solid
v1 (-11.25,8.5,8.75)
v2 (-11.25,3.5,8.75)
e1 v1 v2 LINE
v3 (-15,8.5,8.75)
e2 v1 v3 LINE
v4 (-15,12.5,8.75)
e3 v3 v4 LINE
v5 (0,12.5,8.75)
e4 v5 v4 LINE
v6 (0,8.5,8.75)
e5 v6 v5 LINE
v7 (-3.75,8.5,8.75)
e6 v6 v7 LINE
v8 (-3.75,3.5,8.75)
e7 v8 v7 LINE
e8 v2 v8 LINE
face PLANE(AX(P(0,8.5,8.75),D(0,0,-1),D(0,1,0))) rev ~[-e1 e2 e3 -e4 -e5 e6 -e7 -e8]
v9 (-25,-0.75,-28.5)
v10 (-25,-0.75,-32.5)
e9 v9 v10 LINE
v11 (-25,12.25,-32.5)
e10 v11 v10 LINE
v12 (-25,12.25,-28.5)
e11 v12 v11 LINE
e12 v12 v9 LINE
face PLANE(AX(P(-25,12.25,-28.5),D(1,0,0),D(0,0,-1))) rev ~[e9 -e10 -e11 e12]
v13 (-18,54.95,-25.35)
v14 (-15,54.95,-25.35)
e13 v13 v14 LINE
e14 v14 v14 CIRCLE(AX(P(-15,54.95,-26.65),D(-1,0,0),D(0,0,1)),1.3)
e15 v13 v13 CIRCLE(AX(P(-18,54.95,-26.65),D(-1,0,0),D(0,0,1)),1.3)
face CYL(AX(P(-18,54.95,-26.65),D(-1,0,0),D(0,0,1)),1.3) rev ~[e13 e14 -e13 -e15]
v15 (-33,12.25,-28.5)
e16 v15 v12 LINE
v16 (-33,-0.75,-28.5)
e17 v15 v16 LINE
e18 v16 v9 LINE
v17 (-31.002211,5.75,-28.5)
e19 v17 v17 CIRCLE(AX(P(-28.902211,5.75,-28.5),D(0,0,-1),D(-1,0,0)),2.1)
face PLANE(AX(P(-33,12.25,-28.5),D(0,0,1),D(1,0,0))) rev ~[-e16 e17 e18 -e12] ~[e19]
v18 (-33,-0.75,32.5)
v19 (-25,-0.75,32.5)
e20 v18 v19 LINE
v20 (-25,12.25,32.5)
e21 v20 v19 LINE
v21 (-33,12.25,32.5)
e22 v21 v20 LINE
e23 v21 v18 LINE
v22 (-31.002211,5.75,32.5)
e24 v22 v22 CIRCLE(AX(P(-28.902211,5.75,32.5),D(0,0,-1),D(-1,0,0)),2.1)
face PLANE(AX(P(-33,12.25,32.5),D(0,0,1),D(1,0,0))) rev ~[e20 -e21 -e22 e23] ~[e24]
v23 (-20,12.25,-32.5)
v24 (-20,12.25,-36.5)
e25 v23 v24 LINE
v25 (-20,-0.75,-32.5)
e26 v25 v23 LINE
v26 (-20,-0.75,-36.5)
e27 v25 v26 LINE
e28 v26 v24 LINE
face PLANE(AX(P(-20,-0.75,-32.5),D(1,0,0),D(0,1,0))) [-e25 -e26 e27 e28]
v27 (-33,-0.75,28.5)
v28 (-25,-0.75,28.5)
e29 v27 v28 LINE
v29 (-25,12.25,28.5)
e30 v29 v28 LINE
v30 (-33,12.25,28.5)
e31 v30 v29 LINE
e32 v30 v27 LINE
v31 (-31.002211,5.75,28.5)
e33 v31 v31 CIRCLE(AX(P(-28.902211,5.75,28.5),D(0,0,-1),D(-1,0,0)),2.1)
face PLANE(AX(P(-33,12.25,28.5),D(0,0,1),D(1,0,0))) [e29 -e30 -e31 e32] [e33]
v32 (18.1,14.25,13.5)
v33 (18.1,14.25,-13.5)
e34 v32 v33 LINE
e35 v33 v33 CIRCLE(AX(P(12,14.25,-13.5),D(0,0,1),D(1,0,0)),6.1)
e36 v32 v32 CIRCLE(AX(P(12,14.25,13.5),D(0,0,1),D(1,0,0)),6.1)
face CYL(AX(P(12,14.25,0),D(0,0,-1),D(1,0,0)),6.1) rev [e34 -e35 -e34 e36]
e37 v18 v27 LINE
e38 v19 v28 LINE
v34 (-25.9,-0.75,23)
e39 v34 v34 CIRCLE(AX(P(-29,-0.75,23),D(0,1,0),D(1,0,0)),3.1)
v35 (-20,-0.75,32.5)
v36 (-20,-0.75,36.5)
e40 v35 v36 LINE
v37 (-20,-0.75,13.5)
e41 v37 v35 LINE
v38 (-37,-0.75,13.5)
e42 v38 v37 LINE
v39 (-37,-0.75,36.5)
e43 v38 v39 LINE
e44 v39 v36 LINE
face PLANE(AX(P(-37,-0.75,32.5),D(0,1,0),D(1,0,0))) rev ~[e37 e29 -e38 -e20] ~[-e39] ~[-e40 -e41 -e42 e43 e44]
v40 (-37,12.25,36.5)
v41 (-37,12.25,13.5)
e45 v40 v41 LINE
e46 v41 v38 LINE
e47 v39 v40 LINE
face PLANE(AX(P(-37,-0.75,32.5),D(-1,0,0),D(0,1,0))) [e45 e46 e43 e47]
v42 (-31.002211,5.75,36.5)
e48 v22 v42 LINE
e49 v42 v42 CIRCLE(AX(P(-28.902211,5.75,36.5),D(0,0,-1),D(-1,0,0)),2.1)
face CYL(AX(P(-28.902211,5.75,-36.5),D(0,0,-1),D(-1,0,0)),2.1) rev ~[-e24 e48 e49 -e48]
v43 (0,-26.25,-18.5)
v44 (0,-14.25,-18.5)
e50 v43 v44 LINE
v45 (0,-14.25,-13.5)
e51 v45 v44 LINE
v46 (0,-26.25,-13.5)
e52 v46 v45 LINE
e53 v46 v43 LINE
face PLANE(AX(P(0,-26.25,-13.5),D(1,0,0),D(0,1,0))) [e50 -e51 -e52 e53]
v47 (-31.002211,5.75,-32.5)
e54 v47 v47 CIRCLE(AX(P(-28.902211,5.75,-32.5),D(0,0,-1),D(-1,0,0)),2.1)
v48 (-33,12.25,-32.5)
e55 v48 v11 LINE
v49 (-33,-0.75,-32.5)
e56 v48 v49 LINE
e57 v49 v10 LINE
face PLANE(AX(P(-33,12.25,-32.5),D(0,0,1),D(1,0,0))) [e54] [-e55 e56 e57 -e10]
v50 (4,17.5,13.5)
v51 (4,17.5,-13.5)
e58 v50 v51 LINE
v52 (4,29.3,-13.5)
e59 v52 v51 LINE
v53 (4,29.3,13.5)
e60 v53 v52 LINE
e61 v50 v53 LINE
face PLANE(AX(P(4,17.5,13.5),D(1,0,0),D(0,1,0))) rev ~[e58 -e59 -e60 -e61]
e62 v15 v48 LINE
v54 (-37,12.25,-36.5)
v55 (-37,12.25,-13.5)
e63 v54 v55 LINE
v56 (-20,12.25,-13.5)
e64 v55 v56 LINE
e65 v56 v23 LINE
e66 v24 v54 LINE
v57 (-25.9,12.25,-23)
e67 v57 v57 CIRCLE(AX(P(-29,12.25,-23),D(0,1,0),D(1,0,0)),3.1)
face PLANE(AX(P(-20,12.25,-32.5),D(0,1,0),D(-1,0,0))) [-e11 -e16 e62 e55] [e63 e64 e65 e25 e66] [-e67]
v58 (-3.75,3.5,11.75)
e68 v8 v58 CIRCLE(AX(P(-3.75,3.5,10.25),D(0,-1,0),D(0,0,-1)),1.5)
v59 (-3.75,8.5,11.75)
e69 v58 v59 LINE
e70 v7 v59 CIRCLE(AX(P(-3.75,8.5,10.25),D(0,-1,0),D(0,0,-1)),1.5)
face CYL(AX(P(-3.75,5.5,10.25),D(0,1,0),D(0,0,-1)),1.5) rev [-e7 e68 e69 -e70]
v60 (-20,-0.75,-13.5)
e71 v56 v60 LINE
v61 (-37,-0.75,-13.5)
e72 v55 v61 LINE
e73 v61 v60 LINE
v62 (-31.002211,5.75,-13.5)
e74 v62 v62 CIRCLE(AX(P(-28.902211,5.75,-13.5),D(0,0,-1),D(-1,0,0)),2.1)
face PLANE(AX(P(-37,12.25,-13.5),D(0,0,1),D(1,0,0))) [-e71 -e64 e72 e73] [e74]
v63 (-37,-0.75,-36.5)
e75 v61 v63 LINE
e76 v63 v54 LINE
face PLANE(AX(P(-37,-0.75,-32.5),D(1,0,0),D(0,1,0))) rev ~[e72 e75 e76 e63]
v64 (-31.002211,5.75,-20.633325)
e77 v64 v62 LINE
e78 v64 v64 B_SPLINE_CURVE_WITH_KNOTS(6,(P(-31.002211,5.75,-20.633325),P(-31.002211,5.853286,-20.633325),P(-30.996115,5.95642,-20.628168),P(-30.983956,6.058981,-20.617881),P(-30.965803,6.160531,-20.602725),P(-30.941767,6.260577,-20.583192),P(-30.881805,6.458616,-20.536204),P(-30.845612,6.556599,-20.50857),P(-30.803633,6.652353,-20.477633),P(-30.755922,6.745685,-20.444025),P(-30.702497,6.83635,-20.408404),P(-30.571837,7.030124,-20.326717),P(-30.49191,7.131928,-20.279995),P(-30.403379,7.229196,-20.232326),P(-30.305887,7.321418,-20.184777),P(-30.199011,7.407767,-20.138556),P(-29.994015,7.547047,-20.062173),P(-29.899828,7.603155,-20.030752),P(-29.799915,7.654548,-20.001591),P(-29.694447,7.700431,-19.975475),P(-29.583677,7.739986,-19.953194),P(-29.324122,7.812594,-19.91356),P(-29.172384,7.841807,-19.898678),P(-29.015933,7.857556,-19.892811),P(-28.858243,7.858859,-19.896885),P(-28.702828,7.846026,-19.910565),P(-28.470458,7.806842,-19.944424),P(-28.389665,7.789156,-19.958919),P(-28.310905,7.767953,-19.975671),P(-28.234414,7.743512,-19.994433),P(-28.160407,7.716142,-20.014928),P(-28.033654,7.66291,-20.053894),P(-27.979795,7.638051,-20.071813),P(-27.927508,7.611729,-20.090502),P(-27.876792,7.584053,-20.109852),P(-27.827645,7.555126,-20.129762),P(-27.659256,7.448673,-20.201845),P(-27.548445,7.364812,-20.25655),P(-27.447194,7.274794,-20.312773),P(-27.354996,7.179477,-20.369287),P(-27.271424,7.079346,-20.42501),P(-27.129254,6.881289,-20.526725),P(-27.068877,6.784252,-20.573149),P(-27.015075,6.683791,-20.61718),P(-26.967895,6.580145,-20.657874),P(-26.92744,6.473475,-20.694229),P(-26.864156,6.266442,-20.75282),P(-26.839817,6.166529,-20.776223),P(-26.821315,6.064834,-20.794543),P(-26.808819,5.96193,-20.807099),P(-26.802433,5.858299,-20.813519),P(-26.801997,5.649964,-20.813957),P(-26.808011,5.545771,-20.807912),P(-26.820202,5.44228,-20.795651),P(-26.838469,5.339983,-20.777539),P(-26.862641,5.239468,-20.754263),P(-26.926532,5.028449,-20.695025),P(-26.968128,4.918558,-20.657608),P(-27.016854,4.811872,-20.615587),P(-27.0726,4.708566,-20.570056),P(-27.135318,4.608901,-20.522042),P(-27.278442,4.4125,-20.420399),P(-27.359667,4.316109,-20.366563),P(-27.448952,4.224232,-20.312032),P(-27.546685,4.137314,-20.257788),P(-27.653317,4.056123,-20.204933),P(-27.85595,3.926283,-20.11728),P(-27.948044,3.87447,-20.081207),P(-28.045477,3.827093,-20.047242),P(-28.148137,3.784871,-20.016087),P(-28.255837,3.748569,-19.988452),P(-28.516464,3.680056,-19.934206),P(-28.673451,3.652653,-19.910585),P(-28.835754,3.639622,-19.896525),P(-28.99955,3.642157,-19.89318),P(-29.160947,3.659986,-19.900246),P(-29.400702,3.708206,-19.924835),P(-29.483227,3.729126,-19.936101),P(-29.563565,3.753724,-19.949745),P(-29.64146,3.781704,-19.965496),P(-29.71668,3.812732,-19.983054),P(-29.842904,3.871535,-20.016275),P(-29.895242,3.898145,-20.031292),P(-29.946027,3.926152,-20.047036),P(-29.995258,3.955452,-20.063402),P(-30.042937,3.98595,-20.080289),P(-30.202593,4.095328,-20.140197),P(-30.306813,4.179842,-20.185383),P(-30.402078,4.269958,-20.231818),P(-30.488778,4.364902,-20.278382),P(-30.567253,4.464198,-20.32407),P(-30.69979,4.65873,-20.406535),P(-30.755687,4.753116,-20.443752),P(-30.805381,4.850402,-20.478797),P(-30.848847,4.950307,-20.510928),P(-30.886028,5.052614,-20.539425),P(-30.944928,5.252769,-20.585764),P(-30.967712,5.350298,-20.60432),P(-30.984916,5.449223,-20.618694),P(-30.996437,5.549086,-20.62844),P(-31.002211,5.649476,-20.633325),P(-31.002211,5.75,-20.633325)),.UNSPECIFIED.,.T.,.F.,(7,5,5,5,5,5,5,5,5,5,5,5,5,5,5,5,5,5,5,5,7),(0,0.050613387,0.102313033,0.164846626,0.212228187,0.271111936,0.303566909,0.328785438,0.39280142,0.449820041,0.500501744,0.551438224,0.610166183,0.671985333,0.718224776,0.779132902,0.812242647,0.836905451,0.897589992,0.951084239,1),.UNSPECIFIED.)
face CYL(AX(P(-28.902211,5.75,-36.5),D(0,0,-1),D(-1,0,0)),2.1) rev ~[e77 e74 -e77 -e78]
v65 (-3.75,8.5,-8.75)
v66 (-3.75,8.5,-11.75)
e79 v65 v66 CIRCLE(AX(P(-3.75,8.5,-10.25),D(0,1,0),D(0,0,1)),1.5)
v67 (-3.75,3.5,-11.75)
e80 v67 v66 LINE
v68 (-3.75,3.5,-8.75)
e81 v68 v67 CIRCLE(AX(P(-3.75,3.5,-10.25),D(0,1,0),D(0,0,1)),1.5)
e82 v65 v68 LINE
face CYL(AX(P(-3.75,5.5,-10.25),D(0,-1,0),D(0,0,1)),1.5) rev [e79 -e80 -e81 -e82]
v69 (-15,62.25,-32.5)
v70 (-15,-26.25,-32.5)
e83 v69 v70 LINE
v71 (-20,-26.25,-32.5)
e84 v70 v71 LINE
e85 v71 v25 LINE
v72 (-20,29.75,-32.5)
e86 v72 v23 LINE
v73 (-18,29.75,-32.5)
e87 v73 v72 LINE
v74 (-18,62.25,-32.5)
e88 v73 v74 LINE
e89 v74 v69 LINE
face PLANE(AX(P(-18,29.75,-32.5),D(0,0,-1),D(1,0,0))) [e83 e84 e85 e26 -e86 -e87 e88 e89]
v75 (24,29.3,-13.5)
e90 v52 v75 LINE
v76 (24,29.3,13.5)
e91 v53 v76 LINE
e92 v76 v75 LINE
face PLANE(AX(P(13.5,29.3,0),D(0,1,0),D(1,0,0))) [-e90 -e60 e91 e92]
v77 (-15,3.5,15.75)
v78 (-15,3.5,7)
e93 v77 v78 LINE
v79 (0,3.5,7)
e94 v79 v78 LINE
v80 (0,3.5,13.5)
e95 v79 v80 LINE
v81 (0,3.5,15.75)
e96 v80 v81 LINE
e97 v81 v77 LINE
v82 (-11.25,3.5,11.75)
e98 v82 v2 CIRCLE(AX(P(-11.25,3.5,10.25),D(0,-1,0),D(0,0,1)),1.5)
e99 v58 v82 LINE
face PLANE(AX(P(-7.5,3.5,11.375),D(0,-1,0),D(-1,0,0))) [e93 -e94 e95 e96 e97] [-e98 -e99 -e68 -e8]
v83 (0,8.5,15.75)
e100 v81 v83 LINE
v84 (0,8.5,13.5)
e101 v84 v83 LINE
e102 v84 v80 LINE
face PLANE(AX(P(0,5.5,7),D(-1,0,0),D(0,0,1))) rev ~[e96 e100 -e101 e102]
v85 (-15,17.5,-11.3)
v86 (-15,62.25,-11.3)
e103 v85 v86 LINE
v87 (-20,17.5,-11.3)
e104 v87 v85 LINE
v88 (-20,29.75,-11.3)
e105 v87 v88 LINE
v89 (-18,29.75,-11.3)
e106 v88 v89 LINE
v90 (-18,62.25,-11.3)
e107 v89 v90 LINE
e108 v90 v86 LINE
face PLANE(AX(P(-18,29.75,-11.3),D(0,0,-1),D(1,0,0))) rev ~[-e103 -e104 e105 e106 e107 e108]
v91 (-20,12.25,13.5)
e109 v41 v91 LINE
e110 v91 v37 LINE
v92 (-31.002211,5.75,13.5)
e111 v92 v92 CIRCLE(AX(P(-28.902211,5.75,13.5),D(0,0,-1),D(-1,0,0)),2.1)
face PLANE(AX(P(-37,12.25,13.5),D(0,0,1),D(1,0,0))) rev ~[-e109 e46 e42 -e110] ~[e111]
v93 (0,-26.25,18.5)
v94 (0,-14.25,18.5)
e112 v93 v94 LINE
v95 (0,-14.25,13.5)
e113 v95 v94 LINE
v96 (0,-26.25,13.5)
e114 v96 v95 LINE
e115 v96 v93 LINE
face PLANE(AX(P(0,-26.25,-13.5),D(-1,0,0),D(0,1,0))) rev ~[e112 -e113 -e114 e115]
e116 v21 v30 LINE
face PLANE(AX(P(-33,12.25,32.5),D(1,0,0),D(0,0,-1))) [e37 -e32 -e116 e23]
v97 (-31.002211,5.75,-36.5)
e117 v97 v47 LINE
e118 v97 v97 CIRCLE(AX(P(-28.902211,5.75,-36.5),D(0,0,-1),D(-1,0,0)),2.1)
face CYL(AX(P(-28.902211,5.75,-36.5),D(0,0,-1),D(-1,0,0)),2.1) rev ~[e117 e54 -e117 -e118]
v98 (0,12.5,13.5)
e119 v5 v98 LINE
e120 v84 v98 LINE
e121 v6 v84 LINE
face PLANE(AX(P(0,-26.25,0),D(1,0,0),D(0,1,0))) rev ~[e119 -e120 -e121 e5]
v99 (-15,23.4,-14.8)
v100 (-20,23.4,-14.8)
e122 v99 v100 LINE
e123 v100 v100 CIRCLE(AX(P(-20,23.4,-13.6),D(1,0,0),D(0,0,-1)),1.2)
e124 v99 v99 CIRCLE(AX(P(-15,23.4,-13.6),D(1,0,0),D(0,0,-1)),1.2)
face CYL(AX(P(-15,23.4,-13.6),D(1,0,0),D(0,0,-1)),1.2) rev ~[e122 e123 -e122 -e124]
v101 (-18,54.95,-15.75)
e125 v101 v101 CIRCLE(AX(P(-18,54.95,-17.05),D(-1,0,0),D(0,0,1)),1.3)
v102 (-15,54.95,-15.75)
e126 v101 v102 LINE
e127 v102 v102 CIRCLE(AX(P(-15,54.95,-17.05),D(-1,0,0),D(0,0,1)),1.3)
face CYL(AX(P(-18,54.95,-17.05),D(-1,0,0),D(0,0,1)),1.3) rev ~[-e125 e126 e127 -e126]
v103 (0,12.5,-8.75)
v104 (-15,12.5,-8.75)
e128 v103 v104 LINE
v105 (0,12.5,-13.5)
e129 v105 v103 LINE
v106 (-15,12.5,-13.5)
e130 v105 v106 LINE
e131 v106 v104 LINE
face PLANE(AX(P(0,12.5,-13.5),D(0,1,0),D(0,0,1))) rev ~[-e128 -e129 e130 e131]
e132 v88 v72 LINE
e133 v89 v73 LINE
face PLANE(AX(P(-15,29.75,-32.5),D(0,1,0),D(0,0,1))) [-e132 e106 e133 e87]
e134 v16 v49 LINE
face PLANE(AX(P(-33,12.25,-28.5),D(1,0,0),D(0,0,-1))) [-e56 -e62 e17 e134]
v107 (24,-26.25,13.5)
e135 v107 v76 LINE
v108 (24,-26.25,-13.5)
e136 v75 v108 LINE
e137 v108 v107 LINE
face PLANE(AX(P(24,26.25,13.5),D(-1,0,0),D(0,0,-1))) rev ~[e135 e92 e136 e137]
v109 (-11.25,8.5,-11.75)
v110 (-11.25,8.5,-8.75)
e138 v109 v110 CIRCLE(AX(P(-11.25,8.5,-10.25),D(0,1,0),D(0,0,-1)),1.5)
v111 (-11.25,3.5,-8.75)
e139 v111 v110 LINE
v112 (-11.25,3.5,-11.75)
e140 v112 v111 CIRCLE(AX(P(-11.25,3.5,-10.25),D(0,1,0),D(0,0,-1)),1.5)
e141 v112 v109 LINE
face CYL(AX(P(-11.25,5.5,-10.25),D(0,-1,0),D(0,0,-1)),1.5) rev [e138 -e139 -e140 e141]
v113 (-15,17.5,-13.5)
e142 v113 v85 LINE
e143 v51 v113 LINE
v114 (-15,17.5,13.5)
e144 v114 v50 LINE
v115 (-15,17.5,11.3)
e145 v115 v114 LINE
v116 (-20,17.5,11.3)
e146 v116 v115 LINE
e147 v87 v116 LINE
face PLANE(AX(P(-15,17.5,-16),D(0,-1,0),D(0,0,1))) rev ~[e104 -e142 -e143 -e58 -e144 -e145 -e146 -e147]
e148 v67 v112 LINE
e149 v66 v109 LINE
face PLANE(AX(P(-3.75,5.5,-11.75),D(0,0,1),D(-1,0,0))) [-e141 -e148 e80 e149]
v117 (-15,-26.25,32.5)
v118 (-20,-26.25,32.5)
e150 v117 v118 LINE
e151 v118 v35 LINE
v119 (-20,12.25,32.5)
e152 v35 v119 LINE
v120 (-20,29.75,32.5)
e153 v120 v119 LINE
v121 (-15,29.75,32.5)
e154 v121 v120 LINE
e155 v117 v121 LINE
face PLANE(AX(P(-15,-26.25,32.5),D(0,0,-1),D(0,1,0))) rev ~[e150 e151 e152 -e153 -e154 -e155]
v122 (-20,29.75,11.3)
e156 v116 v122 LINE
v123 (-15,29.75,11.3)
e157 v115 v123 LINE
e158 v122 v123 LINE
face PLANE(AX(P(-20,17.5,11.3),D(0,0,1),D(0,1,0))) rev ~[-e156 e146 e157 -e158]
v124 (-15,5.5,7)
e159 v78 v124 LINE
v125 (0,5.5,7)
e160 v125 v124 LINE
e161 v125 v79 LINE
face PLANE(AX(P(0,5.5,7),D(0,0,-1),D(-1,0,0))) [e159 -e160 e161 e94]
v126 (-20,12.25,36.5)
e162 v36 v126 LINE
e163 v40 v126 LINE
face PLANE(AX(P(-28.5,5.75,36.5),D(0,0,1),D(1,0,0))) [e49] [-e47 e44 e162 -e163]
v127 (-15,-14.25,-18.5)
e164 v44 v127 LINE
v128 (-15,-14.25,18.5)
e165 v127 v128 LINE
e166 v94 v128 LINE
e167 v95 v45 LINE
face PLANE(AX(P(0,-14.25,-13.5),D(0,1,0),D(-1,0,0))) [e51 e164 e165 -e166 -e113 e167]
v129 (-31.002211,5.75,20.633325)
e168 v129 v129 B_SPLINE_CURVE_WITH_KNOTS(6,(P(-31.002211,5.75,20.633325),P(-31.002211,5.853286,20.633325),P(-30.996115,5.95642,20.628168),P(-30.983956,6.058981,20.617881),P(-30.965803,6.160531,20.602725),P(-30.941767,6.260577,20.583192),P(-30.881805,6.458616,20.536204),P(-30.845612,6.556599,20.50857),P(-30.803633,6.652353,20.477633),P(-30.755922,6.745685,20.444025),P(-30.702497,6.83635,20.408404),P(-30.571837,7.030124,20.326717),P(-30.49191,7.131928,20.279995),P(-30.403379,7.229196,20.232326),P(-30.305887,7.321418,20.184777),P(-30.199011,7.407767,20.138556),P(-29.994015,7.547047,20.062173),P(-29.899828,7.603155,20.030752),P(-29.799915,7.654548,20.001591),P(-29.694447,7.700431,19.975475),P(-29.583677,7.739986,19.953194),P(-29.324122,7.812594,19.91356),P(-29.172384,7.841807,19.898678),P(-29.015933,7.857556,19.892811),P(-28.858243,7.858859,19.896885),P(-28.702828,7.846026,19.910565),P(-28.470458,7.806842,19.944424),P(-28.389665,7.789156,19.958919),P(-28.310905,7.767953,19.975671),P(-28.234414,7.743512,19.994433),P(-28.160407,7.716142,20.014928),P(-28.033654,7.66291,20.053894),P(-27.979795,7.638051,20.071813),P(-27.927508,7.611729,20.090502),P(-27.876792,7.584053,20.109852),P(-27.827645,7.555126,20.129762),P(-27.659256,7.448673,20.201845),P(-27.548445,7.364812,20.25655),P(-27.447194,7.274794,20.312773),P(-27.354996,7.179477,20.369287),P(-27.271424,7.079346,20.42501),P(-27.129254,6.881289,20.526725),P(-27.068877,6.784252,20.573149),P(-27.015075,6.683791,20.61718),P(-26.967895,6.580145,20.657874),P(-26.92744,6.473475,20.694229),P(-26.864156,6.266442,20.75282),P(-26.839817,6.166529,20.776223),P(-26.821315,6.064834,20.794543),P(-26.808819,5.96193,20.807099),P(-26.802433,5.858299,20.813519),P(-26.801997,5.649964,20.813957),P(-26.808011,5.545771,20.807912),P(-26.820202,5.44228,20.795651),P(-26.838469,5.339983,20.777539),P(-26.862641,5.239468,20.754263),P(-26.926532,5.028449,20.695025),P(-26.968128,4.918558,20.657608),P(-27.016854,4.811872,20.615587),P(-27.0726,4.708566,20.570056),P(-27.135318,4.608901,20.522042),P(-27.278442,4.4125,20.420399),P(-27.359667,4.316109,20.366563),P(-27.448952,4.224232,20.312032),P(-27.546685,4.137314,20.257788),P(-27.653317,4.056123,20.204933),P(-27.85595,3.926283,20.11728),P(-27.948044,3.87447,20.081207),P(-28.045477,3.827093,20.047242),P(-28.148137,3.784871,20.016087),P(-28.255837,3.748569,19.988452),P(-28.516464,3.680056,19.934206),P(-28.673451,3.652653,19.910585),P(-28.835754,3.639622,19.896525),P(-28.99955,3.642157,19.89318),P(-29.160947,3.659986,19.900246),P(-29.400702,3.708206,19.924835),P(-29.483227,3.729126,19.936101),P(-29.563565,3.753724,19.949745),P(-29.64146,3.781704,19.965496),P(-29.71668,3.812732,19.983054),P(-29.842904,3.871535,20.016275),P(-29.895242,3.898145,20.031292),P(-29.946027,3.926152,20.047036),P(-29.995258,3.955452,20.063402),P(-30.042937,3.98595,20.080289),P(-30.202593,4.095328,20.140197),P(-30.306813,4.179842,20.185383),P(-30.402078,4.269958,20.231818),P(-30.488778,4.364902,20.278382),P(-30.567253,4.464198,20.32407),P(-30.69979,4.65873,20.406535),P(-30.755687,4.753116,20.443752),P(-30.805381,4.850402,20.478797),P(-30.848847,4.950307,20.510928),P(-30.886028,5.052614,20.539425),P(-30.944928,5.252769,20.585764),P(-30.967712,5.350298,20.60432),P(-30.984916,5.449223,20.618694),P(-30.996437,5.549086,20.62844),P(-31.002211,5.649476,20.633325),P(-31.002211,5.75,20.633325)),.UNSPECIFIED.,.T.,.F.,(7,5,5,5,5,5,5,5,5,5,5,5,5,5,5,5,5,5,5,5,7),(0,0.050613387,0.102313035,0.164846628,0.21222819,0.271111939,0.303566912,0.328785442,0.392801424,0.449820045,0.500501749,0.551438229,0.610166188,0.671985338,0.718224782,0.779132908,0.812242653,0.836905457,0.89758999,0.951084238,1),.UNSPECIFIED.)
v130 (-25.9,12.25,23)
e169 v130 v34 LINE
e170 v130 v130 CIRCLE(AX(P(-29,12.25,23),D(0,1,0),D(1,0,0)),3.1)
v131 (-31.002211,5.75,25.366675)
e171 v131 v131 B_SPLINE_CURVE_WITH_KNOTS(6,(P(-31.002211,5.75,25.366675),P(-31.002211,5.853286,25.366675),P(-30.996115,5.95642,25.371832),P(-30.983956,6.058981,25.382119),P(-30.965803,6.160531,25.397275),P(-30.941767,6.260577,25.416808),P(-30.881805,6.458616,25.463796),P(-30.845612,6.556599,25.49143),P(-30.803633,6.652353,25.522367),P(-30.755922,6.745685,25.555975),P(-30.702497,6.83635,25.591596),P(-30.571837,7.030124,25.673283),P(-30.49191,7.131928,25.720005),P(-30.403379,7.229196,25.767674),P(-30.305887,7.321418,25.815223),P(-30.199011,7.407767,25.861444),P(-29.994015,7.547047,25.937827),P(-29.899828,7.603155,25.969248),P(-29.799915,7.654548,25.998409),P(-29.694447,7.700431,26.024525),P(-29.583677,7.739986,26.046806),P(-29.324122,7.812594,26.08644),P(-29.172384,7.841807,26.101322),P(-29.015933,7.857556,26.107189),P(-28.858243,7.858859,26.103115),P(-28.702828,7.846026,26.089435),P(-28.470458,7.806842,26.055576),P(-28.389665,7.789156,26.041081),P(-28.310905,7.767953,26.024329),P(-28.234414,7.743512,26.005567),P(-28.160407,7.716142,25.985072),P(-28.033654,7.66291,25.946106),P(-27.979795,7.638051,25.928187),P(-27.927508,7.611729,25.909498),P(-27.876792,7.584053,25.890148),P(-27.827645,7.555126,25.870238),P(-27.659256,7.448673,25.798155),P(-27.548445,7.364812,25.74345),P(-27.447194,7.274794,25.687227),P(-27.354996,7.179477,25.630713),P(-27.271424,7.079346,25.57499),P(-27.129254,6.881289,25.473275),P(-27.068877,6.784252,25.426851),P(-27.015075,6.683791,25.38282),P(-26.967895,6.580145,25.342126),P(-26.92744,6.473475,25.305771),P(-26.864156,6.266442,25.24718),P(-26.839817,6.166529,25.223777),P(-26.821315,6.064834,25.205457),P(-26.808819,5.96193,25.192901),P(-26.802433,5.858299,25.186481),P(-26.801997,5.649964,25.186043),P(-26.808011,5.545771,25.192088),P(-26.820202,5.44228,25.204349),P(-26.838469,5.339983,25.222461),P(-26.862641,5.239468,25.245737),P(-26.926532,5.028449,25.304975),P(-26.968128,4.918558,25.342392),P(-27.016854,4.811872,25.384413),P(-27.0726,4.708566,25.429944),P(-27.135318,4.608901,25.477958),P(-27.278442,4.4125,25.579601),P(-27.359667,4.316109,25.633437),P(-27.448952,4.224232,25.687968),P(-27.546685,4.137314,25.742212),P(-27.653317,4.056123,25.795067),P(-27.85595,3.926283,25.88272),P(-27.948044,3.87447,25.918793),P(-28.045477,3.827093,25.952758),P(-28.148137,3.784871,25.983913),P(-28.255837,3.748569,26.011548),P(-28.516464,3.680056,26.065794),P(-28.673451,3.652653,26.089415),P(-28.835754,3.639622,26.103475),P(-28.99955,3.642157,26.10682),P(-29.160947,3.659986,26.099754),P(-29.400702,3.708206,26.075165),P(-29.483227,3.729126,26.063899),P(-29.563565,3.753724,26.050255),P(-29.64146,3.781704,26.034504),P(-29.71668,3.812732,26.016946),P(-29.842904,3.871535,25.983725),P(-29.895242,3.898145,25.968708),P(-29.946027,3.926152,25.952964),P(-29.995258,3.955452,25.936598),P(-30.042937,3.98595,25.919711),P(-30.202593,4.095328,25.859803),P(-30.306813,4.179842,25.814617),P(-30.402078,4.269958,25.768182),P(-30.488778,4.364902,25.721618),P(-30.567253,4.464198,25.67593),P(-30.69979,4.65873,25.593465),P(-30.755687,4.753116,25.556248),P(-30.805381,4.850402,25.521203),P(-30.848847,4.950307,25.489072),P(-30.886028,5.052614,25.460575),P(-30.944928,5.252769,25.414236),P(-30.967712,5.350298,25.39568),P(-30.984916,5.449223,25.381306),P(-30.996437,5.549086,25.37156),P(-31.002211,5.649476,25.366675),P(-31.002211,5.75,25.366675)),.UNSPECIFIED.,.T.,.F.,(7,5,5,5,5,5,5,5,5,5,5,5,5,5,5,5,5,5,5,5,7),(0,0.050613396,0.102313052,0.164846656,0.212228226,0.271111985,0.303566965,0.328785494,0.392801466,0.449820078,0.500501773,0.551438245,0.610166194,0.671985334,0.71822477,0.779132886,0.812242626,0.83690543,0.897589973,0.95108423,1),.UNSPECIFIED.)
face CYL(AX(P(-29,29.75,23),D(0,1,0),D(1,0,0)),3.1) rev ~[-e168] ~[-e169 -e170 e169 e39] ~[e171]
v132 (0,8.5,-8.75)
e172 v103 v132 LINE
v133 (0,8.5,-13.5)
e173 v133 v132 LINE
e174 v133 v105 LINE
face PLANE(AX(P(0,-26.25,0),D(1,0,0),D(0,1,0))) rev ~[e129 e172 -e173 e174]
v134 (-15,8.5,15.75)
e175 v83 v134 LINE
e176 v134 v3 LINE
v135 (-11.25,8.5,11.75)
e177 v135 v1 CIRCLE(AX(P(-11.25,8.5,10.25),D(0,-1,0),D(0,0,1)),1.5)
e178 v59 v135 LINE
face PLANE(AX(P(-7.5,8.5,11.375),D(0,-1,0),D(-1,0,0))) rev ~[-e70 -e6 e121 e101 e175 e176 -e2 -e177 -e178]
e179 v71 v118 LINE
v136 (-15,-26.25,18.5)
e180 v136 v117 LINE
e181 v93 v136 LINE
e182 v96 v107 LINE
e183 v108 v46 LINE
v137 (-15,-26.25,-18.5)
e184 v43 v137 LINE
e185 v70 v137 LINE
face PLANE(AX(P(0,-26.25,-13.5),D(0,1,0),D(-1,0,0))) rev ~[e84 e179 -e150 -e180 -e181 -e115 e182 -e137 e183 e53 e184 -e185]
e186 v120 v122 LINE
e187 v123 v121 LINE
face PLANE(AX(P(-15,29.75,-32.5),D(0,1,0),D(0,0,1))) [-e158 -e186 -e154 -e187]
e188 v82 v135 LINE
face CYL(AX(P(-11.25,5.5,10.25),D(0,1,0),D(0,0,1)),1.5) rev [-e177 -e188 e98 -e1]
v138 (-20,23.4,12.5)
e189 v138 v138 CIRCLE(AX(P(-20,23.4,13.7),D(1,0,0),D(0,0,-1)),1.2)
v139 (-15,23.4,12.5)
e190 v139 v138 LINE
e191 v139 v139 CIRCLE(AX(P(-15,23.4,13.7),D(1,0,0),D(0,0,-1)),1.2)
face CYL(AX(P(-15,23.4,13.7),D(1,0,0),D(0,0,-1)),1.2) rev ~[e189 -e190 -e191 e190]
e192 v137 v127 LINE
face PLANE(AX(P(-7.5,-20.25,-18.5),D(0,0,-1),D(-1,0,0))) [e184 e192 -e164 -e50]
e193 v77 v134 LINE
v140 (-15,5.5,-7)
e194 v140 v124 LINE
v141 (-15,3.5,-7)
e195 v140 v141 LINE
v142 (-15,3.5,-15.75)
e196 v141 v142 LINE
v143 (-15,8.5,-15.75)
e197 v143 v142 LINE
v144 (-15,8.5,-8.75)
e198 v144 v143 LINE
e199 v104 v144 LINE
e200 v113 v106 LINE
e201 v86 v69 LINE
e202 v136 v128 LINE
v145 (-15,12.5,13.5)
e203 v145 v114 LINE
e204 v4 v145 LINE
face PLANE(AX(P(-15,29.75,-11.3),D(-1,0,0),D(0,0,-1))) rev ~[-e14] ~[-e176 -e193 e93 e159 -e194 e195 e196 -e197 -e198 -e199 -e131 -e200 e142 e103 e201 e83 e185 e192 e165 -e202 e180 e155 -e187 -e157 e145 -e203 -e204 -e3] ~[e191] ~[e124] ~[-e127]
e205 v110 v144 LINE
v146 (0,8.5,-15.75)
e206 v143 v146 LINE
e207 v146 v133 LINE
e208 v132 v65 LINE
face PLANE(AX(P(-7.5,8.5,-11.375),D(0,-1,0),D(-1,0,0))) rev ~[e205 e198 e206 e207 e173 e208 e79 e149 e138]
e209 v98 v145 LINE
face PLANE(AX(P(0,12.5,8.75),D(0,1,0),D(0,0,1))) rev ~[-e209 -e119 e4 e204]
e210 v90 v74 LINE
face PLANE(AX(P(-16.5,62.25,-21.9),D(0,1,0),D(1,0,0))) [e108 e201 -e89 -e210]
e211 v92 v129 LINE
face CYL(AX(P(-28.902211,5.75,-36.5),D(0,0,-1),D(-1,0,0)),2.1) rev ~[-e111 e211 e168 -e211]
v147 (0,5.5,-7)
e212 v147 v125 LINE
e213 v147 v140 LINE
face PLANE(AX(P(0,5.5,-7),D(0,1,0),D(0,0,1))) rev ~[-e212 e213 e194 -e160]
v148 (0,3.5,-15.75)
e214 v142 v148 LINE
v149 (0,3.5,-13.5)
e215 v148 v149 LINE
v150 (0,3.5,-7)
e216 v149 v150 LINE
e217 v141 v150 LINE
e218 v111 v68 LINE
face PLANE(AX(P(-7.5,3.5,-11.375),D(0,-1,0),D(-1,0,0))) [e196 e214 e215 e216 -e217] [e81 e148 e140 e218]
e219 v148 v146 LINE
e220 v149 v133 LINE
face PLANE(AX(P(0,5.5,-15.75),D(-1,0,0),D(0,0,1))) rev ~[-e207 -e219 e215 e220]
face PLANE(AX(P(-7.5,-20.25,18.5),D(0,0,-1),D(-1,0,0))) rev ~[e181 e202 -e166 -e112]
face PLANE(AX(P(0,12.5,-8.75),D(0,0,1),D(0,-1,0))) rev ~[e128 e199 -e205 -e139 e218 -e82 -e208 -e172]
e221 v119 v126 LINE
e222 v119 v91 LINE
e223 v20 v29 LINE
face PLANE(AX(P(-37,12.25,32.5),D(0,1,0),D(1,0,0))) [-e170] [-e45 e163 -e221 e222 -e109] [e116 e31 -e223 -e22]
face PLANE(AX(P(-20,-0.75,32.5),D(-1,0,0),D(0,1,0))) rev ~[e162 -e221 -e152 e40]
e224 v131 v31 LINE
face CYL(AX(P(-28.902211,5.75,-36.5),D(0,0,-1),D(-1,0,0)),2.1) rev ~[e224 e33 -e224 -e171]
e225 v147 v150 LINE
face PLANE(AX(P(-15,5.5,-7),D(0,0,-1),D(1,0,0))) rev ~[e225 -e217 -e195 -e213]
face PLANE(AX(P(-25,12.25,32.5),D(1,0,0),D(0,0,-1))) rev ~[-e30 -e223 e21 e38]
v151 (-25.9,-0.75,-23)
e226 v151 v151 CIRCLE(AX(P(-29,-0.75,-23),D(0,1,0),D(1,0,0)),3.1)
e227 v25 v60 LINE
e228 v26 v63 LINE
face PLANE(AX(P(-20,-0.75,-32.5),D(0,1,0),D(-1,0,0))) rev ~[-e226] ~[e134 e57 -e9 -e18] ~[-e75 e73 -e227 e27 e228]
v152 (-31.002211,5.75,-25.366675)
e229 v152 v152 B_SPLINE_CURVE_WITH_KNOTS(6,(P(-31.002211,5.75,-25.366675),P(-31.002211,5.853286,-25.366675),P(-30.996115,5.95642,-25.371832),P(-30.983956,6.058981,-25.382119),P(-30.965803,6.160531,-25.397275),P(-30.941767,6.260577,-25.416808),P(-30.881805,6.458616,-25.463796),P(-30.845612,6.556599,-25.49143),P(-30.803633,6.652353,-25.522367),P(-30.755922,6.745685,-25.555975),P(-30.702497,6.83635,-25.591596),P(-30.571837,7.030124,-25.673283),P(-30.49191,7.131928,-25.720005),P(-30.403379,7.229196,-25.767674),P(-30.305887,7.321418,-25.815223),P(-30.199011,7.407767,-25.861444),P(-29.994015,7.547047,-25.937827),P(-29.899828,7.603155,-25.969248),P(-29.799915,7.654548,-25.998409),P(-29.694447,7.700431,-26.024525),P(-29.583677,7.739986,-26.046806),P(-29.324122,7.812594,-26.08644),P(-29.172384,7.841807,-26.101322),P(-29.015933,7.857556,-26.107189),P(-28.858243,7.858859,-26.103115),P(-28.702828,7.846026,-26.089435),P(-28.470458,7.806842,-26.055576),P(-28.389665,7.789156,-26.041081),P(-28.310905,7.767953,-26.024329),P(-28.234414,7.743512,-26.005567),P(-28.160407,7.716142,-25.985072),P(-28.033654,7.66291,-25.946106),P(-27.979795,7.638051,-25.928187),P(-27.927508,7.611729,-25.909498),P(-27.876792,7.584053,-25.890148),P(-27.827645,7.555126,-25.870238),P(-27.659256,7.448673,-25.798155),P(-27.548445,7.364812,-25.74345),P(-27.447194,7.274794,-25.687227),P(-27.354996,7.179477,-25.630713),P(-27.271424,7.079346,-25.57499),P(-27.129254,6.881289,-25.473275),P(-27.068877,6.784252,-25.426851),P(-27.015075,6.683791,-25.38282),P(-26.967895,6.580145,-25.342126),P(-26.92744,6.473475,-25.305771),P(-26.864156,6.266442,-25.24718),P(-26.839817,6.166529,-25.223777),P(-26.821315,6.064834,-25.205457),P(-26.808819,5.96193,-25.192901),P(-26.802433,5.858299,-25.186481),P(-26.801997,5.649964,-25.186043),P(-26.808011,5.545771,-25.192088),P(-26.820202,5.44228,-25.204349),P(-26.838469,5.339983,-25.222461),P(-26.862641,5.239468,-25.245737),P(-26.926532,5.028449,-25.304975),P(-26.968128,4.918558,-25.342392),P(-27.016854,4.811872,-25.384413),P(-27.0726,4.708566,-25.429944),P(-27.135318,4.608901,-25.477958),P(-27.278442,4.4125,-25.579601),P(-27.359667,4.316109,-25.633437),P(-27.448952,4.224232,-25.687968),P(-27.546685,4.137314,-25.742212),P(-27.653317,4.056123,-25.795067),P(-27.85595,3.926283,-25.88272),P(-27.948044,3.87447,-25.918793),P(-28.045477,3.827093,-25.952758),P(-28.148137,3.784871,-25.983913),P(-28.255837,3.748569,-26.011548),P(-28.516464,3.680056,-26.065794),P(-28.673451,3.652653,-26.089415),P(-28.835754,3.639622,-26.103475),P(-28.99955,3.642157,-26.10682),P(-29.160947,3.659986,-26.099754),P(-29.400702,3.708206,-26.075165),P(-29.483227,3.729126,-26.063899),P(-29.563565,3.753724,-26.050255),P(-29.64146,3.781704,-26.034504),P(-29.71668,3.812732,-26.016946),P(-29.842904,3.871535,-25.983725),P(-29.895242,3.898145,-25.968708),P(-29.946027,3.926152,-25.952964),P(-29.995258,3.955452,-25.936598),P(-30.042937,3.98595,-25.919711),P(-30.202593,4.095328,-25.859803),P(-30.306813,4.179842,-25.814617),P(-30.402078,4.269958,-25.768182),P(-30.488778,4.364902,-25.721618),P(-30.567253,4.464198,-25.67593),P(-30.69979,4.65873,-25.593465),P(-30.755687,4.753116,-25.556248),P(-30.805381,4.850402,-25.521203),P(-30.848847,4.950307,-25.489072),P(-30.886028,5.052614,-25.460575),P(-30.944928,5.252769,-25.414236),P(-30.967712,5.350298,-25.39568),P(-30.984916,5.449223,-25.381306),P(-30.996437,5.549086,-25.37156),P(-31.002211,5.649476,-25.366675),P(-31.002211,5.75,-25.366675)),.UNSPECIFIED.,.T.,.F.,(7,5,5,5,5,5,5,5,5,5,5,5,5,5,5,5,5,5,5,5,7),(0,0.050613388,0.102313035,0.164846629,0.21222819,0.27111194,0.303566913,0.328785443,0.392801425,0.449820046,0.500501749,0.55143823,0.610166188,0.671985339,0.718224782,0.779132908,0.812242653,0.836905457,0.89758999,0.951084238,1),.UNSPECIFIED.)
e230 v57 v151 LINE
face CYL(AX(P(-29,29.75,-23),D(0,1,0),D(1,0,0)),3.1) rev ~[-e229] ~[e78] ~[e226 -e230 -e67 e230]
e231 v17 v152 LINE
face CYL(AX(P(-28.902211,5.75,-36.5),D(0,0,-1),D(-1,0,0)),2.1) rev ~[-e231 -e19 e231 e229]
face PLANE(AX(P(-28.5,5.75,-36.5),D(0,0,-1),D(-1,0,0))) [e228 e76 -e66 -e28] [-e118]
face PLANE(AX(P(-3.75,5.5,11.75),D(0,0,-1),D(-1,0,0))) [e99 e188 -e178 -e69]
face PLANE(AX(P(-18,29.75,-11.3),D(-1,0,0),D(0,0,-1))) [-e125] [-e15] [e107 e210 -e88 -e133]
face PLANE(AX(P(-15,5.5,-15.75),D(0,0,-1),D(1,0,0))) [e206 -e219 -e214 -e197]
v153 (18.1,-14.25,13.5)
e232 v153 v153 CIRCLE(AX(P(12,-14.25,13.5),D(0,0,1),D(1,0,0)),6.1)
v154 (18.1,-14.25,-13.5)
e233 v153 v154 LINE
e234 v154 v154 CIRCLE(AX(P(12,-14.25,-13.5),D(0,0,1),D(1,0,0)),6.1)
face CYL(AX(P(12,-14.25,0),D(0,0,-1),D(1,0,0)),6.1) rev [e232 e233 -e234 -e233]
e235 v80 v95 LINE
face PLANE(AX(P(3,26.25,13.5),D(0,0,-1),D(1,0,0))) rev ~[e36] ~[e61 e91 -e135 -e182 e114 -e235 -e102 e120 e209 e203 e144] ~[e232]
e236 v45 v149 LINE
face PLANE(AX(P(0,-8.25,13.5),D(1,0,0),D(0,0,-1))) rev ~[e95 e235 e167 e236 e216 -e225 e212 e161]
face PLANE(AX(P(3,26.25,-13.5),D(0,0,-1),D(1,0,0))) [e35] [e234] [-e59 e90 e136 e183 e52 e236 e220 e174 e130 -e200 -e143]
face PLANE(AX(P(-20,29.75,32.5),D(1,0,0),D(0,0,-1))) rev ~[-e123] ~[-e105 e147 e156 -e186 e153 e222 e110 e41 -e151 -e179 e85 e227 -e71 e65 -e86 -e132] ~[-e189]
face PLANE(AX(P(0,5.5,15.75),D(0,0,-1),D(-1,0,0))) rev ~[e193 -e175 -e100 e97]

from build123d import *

# Parameters (mm, degrees)
SKETCH1_W                = 24
SKETCH1_H                = 52.5
SKETCH1_R                = 6.1
BOSS_EXTRUDE1_DEPTH      = 13.5
BOSS_EXTRUDE2_DEPTH      = 3
BOSS_EXTRUDE2_DEPTH_BACK = 2
SKETCH3_W                = 27
SKETCH3_H                = 18
BOSS_EXTRUDE3_DEPTH      = 15
SKETCH4_W                = 32
SKETCH4_H                = 12
CUT_EXTRUDE2_DEPTH       = 18
SKETCH6_W                = 65
SKETCH6_H                = 56
BOSS_EXTRUDE4_DEPTH      = 22
SKETCH7_R                = 3.1
CUT_EXTRUDE3_DEPTH       = 57
SKETCH8_W                = 17
SKETCH8_H                = 65
CUT_EXTRUDE4_DEPTH       = 17.5
SKETCH11_W               = 22.6
SKETCH11_H               = 12.25
CUT_EXTRUDE6_DEPTH       = 5
SKETCH12_W               = 17
SKETCH12_H               = 27
CUT_EXTRUDE7_DEPTH       = 39.5
SKETCH13_W               = 17
SKETCH13_H               = 65
CUT_EXTRUDE8_DEPTH       = 25.5
SKETCH16_W               = 15
SKETCH16_H               = 27
CUT_EXTRUDE9_DEPTH       = 6
SKETCH17_W               = 15
SKETCH17_H               = 12
BOSS_EXTRUDE5_DEPTH      = 5
BOSS_EXTRUDE5_DEPTH_BACK = 32
SKETCH19_W               = 21
SKETCH19_H               = 27
BOSS_EXTRUDE6_DEPTH      = 3.05
SKETCH20_W               = 1
SKETCH20_H               = 11.8
CUT_EXTRUDE11_DEPTH      = 47
SKETCH21_R               = 1.2
CUT_EXTRUDE12_DEPTH      = 10
SKETCH23_W               = 17
SKETCH23_H               = 13
BOSS_EXTRUDE7_DEPTH      = 4
SKETCH24_W               = 17
SKETCH24_H               = 13
BOSS_EXTRUDE8_DEPTH      = 4
SKETCH25_R               = 2.1
CUT_EXTRUDE14_DEPTH      = 74
SKETCH26_W               = 8
SKETCH26_H               = 4
CUT_EXTRUDE15_DEPTH      = 39.5
SKETCH27_W               = 3
SKETCH27_H               = 21.2
BOSS_EXTRUDE9_DEPTH      = 32.5
SKETCH28_R               = 1.3
CUT_EXTRUDE16_DEPTH      = 43


with BuildPart() as part:
    # Sketch1 → Boss-Extrude1 (new body, symmetric)
    with BuildSketch(Plane.XY):
        with Locations((12, 0)):
            Rectangle(SKETCH1_W, SKETCH1_H)
        with Locations((12, 14.25)):
            Circle(SKETCH1_R, mode=Mode.SUBTRACT)
        with Locations((12, -14.25)):
            Circle(SKETCH1_R, mode=Mode.SUBTRACT)
    extrude(amount=BOSS_EXTRUDE1_DEPTH, both=True)

    # Sketch2 → Boss-Extrude2 (add, two sides)
    with BuildSketch(Plane(origin=(0, 5.5, 0), x_dir=(1, 0, 0), z_dir=(0, 1, 0))) as boss_extrude2_sk:
        Polygon((-4, -7), (0, -7), (0, -15.75), (-15, -15.75), (-15, -7), (-11, -7), align=None)
        with BuildLine():
            Line((-11.25, -8.75), (-3.75, -8.75))
            ThreePointArc((-3.75, -8.75), (-2.25, -10.25), (-3.75, -11.75))
            Line((-3.75, -11.75), (-11.25, -11.75))
            ThreePointArc((-11.25, -11.75), (-12.75, -10.25), (-11.25, -8.75))
        make_face(mode=Mode.SUBTRACT)
        Polygon((-4, 7), (-11, 7), (-15, 7), (-15, 15.75), (0, 15.75), (0, 7), align=None)
        with BuildLine():
            ThreePointArc((-3.75, 8.75), (-2.25, 10.25), (-3.75, 11.75))
            Line((-3.75, 11.75), (-11.25, 11.75))
            ThreePointArc((-11.25, 11.75), (-12.75, 10.25), (-11.25, 8.75))
            Line((-11.25, 8.75), (-3.75, 8.75))
        make_face(mode=Mode.SUBTRACT)
    extrude(amount=BOSS_EXTRUDE2_DEPTH)
    extrude(boss_extrude2_sk.sketch, amount=-BOSS_EXTRUDE2_DEPTH_BACK)

    # Sketch3 → Boss-Extrude3 (add)
    with BuildSketch(Plane.ZY):
        Polygon((13.5, 26.25), (-13.5, 26.25), (-13.5, 12.5), (-8.75, 12.5), (8.75, 12.5), (13.5, 12.5), align=None)
        Polygon((8.75, 12.5), (-8.75, 12.5), (-8.75, 8.5), (-7, 8.5), (-7, 5.5), (7, 5.5), (7, 8.5), (8.75, 8.5), align=None)
        with Locations((0, -17.25)):
            Rectangle(SKETCH3_W, SKETCH3_H)
    extrude(amount=BOSS_EXTRUDE3_DEPTH)

    # Sketch4 → Cut-Extrude2 (cut)
    with BuildSketch(Plane.ZY.offset(15)):
        with Locations((0, 23.5)):
            Rectangle(SKETCH4_W, SKETCH4_H)
    extrude(amount=-CUT_EXTRUDE2_DEPTH, mode=Mode.SUBTRACT)

    # Sketch6 → Boss-Extrude4 (add)
    with BuildSketch(Plane.ZY.offset(15)):
        with Locations((0, 1.75)):
            Rectangle(SKETCH6_W, SKETCH6_H)
    extrude(amount=BOSS_EXTRUDE4_DEPTH)

    # Sketch7 → Cut-Extrude3 (cut, through all)
    with BuildSketch(Plane(origin=(0, 29.75, 0), x_dir=(1, 0, 0), z_dir=(0, 1, 0))):
        with Locations((-29, 23)):
            Circle(SKETCH7_R)
        with Locations((-29, -23)):
            Circle(SKETCH7_R)
    extrude(amount=-CUT_EXTRUDE3_DEPTH, mode=Mode.SUBTRACT)

    # Sketch8 → Cut-Extrude4 (cut)
    with BuildSketch(Plane(origin=(0, 29.75, 0), x_dir=(1, 0, 0), z_dir=(0, 1, 0))):
        with Locations((-28.5, 0)):
            Rectangle(SKETCH8_W, SKETCH8_H)
    extrude(amount=-CUT_EXTRUDE4_DEPTH, mode=Mode.SUBTRACT)

    # Sketch11 → Cut-Extrude6 (cut)
    with BuildSketch(Plane.ZY.offset(20)):
        with Locations((0, 23.625)):
            Rectangle(SKETCH11_W, SKETCH11_H)
    extrude(amount=-CUT_EXTRUDE6_DEPTH, mode=Mode.SUBTRACT)

    # Sketch12 → Cut-Extrude7 (cut, through all)
    with BuildSketch(Plane(origin=(0, 12.25, 0), x_dir=(1, 0, 0), z_dir=(0, 1, 0))):
        with Locations((-28.5, 0)):
            Rectangle(SKETCH12_W, SKETCH12_H)
    extrude(amount=-CUT_EXTRUDE7_DEPTH, mode=Mode.SUBTRACT)

    # Sketch13 → Cut-Extrude8 (cut)
    with BuildSketch(Plane.XZ.offset(26.25)):
        with Locations((-28.5, 0)):
            Rectangle(SKETCH13_W, SKETCH13_H)
    extrude(amount=-CUT_EXTRUDE8_DEPTH, mode=Mode.SUBTRACT)

    # Sketch16 → Cut-Extrude9 (cut)
    with BuildSketch(Plane(origin=(0, -8.25, 0), x_dir=(1, 0, 0), z_dir=(0, 1, 0))):
        with Locations((-7.5, 0)):
            Rectangle(SKETCH16_W, SKETCH16_H)
    extrude(amount=-CUT_EXTRUDE9_DEPTH, mode=Mode.SUBTRACT)

    # Sketch17 → Boss-Extrude5 (add, two sides)
    with BuildSketch(Plane(origin=(0, 0, -13.5), x_dir=(-1, 0, 0), z_dir=(0, 0, -1))) as boss_extrude5_sk:
        with Locations((7.5, -20.25)):
            Rectangle(SKETCH17_W, SKETCH17_H)
    extrude(amount=BOSS_EXTRUDE5_DEPTH)
    extrude(boss_extrude5_sk.sketch, amount=-BOSS_EXTRUDE5_DEPTH_BACK)

    # Sketch19 → Boss-Extrude6 (add)
    with BuildSketch(Plane(origin=(0, 26.25, 0), x_dir=(1, 0, 0), z_dir=(0, 1, 0))):
        with Locations((13.5, 0)):
            Rectangle(SKETCH19_W, SKETCH19_H)
    extrude(amount=BOSS_EXTRUDE6_DEPTH)

    # Sketch20 → Cut-Extrude11 (cut, through all)
    with BuildSketch(Plane.XY.offset(13.5)):
        with Locations((3.5, 23.4)):
            Rectangle(SKETCH20_W, SKETCH20_H)
    extrude(amount=-CUT_EXTRUDE11_DEPTH, mode=Mode.SUBTRACT)

    # Sketch21 → Cut-Extrude12 (cut)
    with BuildSketch(Plane(origin=(-15, 0, 0), x_dir=(0, 0, -1), z_dir=(1, 0, 0))):
        with Locations((-13.7, 23.4)):
            Circle(SKETCH21_R)
        with Locations((13.6, 23.4)):
            Circle(SKETCH21_R)
    extrude(amount=-CUT_EXTRUDE12_DEPTH, mode=Mode.SUBTRACT)

    # Sketch23 → Boss-Extrude7 (add)
    with BuildSketch(Plane(origin=(0, 0, -32.5), x_dir=(-1, 0, 0), z_dir=(0, 0, -1))):
        with Locations((28.5, 5.75)):
            Rectangle(SKETCH23_W, SKETCH23_H)
    extrude(amount=BOSS_EXTRUDE7_DEPTH)

    # Sketch24 → Boss-Extrude8 (add)
    with BuildSketch(Plane.XY.offset(32.5)):
        with Locations((-28.5, 5.75)):
            Rectangle(SKETCH24_W, SKETCH24_H)
    extrude(amount=BOSS_EXTRUDE8_DEPTH)

    # Sketch25 → Cut-Extrude14 (cut, through all)
    with BuildSketch(Plane(origin=(0, 0, -36.5), x_dir=(-1, 0, 0), z_dir=(0, 0, -1))):
        with Locations((28.902210775, 5.75)):
            Circle(SKETCH25_R)
    extrude(amount=-CUT_EXTRUDE14_DEPTH, mode=Mode.SUBTRACT)

    # Sketch26 → Cut-Extrude15 (cut, through all)
    with BuildSketch(Plane(origin=(0, 12.25, 0), x_dir=(1, 0, 0), z_dir=(0, 1, 0))):
        with Locations((-29, -30.5)):
            Rectangle(SKETCH26_W, SKETCH26_H)
        with Locations((-29, 30.5)):
            Rectangle(SKETCH26_W, SKETCH26_H)
    extrude(amount=-CUT_EXTRUDE15_DEPTH, mode=Mode.SUBTRACT)

    # Sketch27 → Boss-Extrude9 (add)
    with BuildSketch(Plane(origin=(0, 29.75, 0), x_dir=(1, 0, 0), z_dir=(0, 1, 0))):
        with Locations((-16.5, 21.9)):
            Rectangle(SKETCH27_W, SKETCH27_H)
    extrude(amount=BOSS_EXTRUDE9_DEPTH)

    # Sketch28 → Cut-Extrude16 (cut, through all)
    with BuildSketch(Plane.ZY.offset(18)):
        with Locations((-26.65, 54.95)):
            Circle(SKETCH28_R)
        with Locations((-17.05, 54.95)):
            Circle(SKETCH28_R)
    extrude(amount=-CUT_EXTRUDE16_DEPTH, mode=Mode.SUBTRACT)


solid = part.part
